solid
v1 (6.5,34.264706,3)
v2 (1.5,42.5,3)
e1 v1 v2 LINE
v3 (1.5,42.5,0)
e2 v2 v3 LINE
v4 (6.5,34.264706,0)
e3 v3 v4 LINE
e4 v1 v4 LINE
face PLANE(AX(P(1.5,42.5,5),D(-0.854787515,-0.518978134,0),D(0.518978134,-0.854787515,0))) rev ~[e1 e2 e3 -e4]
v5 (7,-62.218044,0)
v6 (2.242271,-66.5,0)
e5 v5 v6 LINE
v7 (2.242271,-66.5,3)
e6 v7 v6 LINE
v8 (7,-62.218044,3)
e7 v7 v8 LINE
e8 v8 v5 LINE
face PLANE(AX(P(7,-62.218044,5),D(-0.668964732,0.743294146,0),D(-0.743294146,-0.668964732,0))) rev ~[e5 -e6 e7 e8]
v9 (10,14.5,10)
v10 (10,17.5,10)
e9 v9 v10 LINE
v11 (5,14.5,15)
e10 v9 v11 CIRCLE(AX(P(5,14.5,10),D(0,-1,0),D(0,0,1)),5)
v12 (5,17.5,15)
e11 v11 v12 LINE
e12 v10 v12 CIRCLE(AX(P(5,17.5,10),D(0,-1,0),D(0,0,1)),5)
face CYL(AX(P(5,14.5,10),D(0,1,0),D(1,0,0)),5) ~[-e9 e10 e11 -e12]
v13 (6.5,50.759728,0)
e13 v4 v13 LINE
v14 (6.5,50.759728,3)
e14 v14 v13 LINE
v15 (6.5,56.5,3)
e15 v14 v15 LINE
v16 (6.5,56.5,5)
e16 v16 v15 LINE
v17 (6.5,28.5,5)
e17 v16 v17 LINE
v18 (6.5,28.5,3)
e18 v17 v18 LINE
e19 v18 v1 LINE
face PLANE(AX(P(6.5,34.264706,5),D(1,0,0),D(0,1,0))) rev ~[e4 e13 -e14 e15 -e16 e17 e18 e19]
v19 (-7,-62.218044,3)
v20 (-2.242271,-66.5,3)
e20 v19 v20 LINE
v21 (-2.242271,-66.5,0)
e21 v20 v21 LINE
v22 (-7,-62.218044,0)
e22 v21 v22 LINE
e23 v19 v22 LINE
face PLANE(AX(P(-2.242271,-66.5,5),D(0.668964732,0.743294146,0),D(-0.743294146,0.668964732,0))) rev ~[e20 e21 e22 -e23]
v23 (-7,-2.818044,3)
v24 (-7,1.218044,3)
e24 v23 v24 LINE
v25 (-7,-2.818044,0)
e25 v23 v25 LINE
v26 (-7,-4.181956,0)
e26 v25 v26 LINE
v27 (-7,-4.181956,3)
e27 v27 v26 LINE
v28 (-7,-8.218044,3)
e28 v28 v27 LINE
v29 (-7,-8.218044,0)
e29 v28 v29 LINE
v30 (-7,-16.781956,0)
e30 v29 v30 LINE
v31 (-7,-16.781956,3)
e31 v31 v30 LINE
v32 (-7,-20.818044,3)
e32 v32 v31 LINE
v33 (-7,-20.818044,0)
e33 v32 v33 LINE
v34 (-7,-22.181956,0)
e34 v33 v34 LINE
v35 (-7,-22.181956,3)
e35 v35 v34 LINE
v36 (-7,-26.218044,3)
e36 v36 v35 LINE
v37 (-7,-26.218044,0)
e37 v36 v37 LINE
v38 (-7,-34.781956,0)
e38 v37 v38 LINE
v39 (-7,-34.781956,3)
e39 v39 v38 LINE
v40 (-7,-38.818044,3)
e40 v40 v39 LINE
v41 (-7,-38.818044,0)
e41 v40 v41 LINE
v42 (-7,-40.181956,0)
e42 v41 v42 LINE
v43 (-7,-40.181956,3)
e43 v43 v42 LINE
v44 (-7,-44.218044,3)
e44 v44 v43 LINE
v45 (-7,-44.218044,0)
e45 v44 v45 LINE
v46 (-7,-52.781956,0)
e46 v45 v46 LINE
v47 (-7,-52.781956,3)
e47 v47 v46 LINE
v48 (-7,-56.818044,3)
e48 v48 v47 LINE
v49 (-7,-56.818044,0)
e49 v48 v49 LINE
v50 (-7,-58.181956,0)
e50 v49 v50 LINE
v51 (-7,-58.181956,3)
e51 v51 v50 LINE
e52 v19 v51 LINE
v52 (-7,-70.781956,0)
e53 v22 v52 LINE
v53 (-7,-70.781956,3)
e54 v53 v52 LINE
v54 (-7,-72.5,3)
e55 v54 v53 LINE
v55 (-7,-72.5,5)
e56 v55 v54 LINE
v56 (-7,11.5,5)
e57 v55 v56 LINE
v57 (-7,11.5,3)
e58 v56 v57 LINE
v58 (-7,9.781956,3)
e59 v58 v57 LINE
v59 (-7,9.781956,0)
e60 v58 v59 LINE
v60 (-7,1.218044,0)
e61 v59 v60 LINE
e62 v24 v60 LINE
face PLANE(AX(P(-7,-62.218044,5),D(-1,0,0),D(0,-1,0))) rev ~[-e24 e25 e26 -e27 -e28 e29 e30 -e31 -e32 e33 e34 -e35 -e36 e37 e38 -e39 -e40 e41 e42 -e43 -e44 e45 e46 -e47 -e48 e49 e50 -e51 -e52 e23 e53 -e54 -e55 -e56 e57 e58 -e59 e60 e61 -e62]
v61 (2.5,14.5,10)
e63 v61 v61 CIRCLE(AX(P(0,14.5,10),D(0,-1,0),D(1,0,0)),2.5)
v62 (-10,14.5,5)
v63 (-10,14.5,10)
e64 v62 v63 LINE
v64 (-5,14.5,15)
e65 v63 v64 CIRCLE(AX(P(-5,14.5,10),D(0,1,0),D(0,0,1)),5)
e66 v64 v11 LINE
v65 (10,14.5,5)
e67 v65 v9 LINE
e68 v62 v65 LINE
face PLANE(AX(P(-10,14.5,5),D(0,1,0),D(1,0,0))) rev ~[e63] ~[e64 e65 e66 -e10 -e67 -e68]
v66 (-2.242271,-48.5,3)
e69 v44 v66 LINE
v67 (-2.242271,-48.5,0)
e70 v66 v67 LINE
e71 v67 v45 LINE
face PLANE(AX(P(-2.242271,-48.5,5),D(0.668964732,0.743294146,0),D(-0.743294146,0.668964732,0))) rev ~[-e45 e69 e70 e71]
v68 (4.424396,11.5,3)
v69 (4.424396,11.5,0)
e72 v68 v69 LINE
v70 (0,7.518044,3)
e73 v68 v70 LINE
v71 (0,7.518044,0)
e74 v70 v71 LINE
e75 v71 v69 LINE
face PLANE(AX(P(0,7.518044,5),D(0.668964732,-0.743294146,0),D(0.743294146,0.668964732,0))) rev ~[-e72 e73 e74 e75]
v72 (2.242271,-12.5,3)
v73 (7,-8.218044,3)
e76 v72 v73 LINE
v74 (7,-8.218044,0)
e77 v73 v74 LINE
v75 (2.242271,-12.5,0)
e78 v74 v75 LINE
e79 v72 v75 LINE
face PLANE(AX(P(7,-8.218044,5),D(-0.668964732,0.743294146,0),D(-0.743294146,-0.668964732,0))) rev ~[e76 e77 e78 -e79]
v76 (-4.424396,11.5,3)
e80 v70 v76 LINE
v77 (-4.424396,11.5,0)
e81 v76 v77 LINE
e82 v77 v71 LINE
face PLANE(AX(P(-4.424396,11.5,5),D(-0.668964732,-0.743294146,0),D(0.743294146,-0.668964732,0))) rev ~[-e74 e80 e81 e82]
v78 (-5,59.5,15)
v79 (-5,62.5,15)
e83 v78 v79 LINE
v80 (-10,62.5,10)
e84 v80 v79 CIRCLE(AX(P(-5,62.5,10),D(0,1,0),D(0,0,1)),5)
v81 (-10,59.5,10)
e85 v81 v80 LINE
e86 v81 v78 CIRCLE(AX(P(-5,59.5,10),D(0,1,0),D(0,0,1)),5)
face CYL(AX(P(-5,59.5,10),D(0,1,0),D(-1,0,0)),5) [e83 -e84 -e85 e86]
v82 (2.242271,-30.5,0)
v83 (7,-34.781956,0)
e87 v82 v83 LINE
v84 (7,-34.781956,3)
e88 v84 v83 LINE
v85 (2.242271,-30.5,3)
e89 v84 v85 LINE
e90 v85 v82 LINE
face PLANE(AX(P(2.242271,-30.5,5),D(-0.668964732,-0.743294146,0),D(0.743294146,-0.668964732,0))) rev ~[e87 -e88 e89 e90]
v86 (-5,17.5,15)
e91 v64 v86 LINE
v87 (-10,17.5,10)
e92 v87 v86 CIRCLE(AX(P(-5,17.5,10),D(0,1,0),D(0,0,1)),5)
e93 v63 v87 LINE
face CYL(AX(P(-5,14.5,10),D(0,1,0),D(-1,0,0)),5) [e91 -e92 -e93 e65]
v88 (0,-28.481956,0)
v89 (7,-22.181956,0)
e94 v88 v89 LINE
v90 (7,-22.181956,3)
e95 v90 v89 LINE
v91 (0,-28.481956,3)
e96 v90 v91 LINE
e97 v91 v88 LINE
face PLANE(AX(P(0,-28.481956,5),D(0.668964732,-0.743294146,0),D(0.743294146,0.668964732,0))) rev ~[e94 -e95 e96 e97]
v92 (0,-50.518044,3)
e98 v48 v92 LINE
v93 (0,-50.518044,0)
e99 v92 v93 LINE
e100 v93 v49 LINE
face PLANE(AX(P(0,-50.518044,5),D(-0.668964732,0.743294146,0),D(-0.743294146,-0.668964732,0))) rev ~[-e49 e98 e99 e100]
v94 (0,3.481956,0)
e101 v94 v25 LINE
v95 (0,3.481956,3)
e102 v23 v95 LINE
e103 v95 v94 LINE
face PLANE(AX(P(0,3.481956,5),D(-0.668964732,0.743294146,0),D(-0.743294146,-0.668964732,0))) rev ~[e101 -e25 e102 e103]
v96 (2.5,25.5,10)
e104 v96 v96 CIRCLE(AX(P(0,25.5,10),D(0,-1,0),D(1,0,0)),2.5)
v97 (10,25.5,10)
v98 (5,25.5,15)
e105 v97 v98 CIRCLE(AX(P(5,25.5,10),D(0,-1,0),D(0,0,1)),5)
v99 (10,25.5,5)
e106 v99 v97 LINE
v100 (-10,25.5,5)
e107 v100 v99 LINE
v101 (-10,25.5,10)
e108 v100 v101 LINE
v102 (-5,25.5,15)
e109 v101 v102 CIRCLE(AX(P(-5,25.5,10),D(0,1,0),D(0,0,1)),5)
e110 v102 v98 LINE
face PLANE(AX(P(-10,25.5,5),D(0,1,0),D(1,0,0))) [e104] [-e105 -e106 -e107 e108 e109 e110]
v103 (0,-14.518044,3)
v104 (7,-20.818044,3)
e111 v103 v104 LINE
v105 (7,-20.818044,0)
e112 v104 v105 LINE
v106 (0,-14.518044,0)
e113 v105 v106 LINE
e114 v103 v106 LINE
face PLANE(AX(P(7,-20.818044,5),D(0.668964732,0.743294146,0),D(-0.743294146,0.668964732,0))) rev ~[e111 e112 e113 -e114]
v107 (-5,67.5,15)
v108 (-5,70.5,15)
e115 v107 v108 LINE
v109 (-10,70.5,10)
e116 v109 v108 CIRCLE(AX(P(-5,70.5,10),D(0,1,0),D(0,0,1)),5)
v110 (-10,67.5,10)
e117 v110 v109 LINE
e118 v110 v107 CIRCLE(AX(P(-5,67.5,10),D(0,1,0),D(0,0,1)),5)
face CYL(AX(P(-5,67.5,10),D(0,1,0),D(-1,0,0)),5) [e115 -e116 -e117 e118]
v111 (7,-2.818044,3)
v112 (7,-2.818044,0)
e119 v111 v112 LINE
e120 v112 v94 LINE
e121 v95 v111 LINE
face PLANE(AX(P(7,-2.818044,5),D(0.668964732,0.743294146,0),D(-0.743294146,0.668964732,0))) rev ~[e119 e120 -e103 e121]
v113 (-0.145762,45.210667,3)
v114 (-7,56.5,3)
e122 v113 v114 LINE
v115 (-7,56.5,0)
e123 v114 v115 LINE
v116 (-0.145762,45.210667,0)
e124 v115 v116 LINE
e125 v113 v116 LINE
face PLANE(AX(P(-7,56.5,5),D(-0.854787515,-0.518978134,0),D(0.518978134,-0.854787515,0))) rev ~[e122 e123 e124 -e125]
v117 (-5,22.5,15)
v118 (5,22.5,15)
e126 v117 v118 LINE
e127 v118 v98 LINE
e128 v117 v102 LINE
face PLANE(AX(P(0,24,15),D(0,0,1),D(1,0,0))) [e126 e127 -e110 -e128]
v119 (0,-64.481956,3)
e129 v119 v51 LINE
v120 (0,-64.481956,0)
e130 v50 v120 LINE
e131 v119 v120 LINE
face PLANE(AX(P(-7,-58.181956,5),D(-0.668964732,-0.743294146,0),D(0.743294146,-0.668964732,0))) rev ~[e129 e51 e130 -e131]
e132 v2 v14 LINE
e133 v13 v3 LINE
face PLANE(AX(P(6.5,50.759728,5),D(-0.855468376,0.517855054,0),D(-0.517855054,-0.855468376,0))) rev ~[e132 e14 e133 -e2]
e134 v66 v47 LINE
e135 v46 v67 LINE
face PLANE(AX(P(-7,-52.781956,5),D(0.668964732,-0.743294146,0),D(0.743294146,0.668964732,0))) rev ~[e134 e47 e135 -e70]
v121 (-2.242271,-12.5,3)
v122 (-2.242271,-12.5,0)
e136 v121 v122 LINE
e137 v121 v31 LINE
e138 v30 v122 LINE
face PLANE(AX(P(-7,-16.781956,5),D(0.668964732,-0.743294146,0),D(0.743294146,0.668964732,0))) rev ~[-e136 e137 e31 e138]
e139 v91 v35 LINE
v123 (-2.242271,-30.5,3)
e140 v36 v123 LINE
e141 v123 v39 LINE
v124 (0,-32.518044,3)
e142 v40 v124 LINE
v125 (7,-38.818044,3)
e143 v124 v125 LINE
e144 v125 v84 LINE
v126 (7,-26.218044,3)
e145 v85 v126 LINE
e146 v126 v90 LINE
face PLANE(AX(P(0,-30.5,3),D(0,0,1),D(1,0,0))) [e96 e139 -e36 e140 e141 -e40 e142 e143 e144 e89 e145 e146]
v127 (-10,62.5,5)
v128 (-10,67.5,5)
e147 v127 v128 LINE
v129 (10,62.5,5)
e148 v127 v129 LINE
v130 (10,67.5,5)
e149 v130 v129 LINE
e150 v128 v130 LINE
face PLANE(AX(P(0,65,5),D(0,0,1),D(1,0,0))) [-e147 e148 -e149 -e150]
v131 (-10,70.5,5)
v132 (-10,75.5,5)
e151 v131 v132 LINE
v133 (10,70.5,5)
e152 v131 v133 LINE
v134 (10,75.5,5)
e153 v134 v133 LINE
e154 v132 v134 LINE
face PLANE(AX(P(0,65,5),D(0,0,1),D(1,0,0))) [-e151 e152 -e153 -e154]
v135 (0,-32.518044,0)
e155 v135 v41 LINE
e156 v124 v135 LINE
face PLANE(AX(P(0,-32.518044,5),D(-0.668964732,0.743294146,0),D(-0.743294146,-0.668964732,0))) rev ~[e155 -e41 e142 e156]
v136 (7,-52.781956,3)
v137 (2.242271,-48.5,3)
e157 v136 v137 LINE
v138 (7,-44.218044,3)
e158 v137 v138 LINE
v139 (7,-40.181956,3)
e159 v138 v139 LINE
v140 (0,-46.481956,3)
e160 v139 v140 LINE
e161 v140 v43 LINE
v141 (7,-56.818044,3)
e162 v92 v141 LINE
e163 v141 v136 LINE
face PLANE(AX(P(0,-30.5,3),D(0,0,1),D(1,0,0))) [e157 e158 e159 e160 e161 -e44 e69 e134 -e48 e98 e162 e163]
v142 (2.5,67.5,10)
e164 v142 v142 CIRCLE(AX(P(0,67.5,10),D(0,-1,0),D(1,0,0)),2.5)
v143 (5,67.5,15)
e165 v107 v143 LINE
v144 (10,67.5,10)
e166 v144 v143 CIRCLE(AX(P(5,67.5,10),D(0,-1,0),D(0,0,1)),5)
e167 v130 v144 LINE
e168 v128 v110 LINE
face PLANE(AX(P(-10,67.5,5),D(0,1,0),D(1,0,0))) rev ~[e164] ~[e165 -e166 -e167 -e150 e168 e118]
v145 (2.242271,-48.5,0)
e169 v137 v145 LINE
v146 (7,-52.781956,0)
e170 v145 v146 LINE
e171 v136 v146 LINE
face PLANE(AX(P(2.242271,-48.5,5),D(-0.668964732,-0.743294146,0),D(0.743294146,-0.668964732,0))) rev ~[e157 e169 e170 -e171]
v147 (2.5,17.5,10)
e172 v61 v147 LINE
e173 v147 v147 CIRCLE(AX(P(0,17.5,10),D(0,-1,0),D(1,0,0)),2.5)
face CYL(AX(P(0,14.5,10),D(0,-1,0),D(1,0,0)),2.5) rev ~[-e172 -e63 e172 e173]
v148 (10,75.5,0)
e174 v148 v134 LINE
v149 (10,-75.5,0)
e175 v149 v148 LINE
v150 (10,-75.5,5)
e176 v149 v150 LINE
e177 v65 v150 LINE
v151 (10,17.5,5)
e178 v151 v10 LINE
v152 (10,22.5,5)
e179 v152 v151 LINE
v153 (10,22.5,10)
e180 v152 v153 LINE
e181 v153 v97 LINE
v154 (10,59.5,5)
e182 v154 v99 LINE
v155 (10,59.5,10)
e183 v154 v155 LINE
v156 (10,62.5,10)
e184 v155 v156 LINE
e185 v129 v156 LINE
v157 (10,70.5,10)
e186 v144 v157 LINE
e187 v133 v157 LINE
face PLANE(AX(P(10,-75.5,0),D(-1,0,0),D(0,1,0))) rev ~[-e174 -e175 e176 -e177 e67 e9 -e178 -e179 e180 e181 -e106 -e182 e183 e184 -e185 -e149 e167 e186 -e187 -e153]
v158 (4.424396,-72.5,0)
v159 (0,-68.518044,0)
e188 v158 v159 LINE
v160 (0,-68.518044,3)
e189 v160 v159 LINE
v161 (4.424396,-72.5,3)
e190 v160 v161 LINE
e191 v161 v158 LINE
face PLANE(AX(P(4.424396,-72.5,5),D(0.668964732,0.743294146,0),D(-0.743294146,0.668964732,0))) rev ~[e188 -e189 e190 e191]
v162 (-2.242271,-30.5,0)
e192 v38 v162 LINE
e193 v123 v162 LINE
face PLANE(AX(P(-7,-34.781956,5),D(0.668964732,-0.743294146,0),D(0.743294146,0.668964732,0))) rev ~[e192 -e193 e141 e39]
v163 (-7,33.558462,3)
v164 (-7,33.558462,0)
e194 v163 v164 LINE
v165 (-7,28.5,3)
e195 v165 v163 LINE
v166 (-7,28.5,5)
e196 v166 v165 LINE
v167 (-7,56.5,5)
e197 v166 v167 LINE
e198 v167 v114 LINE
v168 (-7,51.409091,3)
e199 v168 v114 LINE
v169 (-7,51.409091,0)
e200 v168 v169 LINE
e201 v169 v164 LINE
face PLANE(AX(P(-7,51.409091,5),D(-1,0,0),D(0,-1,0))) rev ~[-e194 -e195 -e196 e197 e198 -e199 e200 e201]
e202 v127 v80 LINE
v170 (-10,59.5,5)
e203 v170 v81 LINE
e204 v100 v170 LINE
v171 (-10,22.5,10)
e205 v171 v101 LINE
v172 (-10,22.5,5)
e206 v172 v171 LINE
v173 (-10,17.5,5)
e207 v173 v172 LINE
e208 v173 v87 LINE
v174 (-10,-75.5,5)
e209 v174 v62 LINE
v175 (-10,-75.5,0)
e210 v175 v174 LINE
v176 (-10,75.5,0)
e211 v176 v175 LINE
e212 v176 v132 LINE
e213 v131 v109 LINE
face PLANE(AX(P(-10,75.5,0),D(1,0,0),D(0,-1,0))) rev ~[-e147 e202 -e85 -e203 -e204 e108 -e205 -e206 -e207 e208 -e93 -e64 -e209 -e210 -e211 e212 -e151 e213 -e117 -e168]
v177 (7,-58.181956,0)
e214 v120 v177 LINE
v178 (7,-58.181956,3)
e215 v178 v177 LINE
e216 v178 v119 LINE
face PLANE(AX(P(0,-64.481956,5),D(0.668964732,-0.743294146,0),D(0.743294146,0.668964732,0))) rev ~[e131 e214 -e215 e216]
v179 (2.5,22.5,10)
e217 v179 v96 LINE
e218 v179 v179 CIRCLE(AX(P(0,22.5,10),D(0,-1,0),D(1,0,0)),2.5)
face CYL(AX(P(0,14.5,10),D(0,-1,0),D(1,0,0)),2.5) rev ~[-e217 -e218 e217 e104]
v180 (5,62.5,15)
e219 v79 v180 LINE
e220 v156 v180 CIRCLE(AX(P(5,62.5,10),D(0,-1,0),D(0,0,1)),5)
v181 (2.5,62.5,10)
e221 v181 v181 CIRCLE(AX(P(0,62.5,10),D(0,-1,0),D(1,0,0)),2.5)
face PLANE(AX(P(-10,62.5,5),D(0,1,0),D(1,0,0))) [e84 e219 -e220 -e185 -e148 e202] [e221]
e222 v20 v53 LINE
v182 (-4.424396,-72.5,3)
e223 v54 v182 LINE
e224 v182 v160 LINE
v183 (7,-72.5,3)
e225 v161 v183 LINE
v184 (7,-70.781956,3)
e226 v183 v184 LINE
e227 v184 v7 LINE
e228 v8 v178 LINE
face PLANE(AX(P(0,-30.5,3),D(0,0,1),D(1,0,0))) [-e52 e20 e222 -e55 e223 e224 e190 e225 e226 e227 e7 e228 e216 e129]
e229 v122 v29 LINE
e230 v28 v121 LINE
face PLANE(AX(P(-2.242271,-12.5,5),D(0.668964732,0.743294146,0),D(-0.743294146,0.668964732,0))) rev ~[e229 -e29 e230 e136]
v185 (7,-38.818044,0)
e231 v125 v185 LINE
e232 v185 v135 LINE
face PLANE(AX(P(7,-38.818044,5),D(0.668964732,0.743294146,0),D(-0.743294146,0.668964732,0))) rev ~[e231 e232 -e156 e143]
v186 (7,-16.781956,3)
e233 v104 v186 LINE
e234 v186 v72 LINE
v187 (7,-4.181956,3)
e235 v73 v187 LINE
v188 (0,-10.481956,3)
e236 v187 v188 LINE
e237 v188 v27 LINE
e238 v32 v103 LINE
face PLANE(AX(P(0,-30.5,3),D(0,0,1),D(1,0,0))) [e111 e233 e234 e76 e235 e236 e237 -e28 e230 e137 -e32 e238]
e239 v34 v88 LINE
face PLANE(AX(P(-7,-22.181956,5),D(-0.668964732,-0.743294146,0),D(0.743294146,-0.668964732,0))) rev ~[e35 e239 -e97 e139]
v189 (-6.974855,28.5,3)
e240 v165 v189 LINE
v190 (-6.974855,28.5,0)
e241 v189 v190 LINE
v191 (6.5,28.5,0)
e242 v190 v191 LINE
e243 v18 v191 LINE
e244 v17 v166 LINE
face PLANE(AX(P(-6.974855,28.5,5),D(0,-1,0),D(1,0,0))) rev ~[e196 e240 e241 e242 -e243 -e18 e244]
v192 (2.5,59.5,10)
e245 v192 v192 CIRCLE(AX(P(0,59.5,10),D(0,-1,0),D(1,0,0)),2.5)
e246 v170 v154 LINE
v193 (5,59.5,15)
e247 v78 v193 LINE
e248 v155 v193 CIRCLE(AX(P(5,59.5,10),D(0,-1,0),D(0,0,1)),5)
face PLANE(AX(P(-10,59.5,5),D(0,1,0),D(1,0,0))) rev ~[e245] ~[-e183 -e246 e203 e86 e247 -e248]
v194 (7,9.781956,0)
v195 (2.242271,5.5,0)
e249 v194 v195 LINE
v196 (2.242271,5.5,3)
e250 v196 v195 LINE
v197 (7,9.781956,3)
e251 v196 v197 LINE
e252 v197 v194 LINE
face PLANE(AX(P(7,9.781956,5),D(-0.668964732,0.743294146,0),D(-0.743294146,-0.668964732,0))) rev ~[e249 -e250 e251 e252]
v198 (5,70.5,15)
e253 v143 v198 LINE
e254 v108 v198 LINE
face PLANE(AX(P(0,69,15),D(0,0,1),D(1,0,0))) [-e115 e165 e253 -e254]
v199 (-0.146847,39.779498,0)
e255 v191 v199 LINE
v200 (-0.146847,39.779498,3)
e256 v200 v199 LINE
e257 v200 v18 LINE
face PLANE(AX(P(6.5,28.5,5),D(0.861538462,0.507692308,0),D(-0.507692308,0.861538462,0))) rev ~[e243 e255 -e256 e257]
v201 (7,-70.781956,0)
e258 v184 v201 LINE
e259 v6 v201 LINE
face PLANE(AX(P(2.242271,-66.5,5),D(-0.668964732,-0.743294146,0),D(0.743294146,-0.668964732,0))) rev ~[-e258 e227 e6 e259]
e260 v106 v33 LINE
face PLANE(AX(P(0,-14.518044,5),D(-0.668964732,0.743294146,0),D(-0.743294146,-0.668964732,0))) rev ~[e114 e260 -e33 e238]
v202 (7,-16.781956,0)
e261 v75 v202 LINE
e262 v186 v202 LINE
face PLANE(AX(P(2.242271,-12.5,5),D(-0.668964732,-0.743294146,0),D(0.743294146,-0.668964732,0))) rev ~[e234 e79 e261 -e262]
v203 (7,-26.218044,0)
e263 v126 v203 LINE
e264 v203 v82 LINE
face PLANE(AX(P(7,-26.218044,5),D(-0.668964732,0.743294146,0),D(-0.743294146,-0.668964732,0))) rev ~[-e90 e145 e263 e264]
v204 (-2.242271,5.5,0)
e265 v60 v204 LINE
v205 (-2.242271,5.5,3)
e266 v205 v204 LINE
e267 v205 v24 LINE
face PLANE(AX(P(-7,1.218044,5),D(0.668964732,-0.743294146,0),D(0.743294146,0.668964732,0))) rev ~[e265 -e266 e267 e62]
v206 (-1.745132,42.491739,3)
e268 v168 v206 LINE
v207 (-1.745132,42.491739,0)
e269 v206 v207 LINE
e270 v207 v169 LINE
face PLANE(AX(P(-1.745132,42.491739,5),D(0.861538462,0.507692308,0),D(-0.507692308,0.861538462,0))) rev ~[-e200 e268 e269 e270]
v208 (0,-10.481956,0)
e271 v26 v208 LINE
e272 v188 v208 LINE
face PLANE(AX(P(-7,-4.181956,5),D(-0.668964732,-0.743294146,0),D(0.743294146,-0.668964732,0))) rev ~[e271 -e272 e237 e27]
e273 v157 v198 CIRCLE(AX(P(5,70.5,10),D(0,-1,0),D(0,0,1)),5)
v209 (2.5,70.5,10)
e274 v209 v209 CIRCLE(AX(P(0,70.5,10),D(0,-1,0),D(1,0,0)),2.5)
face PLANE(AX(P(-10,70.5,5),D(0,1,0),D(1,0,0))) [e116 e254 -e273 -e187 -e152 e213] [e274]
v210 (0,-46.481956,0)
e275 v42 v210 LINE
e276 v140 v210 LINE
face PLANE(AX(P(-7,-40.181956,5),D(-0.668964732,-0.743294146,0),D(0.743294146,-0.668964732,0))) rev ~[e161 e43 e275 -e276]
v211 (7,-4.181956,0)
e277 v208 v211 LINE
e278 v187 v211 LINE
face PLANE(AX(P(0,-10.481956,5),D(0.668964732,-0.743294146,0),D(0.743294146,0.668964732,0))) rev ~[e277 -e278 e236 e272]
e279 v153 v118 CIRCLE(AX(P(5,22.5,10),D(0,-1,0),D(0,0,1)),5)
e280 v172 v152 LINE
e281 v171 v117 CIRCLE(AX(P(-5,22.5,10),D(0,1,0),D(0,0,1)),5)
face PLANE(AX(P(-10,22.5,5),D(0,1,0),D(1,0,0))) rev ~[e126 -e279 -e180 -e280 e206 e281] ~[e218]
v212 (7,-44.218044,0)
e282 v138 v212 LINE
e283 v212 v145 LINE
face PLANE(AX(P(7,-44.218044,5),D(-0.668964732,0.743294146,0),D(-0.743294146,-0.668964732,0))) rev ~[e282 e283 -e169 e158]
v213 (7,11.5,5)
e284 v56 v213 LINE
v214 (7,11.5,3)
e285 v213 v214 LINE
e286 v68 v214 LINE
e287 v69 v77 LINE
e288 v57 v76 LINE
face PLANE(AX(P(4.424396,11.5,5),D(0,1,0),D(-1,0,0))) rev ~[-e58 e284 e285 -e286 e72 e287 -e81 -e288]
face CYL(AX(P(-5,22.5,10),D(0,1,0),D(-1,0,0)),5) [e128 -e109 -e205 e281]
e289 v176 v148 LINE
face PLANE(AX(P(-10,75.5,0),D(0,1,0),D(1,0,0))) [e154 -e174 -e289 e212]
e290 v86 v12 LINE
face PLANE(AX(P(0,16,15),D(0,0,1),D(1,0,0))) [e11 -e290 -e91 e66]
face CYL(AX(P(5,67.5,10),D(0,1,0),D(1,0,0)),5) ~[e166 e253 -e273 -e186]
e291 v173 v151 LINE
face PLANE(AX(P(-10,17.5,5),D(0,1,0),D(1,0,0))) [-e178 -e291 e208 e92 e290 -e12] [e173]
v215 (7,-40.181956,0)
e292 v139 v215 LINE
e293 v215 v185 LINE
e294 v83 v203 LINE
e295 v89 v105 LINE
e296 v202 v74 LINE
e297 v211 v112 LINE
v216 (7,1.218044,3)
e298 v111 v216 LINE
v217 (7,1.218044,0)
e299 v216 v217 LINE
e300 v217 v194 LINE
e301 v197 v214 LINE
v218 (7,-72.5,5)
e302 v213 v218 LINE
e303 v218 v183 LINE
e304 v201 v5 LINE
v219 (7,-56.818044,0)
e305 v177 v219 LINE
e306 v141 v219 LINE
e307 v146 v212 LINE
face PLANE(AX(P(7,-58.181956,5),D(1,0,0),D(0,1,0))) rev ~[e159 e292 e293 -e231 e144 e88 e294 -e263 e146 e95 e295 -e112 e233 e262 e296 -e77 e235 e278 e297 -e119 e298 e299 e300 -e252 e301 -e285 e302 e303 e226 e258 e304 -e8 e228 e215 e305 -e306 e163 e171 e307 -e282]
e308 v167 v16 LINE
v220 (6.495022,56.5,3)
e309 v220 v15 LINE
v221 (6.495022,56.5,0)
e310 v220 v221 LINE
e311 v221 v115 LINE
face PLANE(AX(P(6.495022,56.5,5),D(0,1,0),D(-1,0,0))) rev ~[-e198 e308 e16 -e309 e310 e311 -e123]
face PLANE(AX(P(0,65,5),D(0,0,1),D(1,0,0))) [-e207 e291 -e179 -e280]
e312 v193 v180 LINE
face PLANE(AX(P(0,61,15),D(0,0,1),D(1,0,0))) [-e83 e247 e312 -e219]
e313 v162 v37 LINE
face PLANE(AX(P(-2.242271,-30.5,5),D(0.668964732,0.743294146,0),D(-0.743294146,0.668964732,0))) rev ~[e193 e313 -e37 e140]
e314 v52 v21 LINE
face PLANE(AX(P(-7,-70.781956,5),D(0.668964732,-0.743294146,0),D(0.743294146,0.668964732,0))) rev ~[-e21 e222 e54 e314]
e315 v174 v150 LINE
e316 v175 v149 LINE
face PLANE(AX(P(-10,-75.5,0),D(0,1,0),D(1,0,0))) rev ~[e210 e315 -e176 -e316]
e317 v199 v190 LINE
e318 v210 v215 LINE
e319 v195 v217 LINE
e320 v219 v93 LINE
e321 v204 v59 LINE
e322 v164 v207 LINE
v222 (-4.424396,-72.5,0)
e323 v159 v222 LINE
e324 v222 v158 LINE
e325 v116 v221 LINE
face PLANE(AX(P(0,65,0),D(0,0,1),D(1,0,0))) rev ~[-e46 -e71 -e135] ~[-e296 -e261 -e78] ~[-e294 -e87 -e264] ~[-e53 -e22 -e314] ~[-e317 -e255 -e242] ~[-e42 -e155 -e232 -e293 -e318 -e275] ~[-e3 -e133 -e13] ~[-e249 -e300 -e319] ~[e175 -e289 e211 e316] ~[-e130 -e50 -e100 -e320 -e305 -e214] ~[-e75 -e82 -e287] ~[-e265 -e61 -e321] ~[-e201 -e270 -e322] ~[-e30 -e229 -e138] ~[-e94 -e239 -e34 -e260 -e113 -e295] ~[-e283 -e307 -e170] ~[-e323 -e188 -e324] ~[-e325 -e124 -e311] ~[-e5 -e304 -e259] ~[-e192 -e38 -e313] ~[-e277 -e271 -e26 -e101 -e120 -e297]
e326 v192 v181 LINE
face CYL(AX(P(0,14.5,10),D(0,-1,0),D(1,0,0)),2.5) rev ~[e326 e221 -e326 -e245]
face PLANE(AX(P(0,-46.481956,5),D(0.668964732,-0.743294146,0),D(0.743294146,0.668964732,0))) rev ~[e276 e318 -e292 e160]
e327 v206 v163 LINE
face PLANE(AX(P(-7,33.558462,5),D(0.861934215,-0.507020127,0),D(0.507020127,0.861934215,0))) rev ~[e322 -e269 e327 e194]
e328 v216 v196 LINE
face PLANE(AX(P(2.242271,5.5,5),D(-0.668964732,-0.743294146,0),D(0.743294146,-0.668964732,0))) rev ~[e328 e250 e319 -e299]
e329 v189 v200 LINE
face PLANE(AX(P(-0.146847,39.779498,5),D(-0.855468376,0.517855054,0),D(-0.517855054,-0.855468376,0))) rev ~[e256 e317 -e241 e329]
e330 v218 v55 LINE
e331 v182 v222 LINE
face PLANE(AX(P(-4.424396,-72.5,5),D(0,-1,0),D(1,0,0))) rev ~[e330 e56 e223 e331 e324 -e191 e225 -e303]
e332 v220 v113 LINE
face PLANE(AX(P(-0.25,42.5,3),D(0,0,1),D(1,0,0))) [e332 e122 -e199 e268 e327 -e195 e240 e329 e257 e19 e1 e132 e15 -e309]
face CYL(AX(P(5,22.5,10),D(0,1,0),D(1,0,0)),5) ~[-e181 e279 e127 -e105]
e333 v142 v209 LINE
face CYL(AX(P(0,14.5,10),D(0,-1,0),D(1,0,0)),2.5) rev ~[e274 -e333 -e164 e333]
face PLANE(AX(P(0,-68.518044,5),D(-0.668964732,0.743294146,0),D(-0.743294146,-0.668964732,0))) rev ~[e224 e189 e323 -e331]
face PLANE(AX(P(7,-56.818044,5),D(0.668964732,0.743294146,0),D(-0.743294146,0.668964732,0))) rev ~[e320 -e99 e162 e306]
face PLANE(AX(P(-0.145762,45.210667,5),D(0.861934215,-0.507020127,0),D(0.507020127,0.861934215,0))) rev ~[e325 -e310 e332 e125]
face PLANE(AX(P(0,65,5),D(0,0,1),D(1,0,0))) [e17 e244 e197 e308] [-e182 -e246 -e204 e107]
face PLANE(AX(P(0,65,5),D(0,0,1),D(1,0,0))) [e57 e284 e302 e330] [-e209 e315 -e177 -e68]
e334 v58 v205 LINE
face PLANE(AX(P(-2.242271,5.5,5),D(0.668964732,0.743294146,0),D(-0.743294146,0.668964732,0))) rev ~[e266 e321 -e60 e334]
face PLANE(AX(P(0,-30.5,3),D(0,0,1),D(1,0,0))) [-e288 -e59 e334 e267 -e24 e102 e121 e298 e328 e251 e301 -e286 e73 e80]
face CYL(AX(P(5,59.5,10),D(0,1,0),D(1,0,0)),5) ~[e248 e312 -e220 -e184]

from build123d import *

# Parameters (mm, degrees)
F0_W      = 20
F0_H      = 5
F0_H_2    = 3
F0_H_3    = 90
F0_H_4    = 34
F1_DEPTH  = 5
F2_W      = 20
F2_H      = 3
F2_H_2    = 5
F2_H_3    = 34
F3_DEPTH  = 5
F4_W      = 20
F4_H      = 3
F5_DEPTH  = 10
F6_R      = 2.5
F7_DEPTH  = 56
F8_R      = 5
F10_DEPTH = 5
F12_DEPTH = 5
F13_W     = 14
F13_H     = 84
F13_W_2   = 13.5
F13_H_2   = 28
F14_DEPTH = 2


with BuildPart() as f1:
    # F0 (on Top) → F1 (new body)
    with BuildSketch(Plane.XY):
        with Locations((0, 65)):
            Rectangle(F0_W, F0_H)
        with Locations((0, 61)):
            Rectangle(F0_W, F0_H_2)
        with Locations((0, 73)):
            Rectangle(F0_W, F0_H)
        with Locations((0, 20)):
            Rectangle(F0_W, F0_H)
        with Locations((0, 24)):
            Rectangle(F0_W, F0_H_2)
        with Locations((0, -30.5)):
            Rectangle(F0_W, F0_H_3)
        with Locations((0, 16)):
            Rectangle(F0_W, F0_H_2)
        with Locations((0, 69)):
            Rectangle(F0_W, F0_H_2)
        with Locations((0, 42.5)):
            Rectangle(F0_W, F0_H_4)
    extrude(amount=F1_DEPTH)

    # F2 (on Top) → F3 (join, through all)
    with BuildSketch(Plane.XY):
        with Locations((0, 69)):
            Rectangle(F2_W, F2_H)
        with Locations((0, 73)):
            Rectangle(F2_W, F2_H_2)
        with Locations((0, 65)):
            Rectangle(F2_W, F2_H_2)
        with Locations((0, 61)):
            Rectangle(F2_W, F2_H)
        with Locations((0, 24)):
            Rectangle(F2_W, F2_H)
        with Locations((0, 42.5)):
            Rectangle(F2_W, F2_H_3)
        with Locations((0, 20)):
            Rectangle(F2_W, F2_H_2)
        with Locations((0, 16)):
            Rectangle(F2_W, F2_H)
    extrude(amount=F3_DEPTH)

    # F4 (on face) → F5 (join)
    with BuildSketch(Plane.XY.offset(5)):
        with Locations((0, 69)):
            Rectangle(F4_W, F4_H)
        with Locations((0, 61)):
            Rectangle(F4_W, F4_H)
        with Locations((0, 24)):
            Rectangle(F4_W, F4_H)
        with Locations((0, 16)):
            Rectangle(F4_W, F4_H)
    extrude(amount=F5_DEPTH)

    # F6 (on face) → F7 (cut, through all)
    with BuildSketch(Plane.XZ.offset(-14.5)):
        with Locations((0, 10)):
            Circle(F6_R)
    extrude(amount=-F7_DEPTH, mode=Mode.SUBTRACT)

    # F8
    f8_edges = [f1.edges().sort_by_distance(p)[0] for p in [
        (10, 69, 15),
        (10, 61, 15),
        (-10, 61, 15),
        (-10, 69, 15),
        (10, 24, 15),
        (-10, 24, 15),
        (-10, 16, 15),
        (10, 16, 15),
    ]]
    fillet(f8_edges, radius=F8_R)

    # F9 (on face) → F10 (cut, through all)
    with BuildSketch(Plane.XY.offset(5)):
        Polygon((4.4243959922, 11.5), (-4.4243959922, 11.5), (0, 7.5180436071), align=None)
        Polygon((-2.2422706745, 5.5), (-7, 9.7819563929), (-7, 1.2180436071), align=None)
        Polygon((0, -14.5180436071), (-7, -20.8180436071), (-7, -22.1819563929), (0, -28.4819563929), (7, -22.1819563929), (7, -20.8180436071), align=None)
        Polygon((0, -32.5180436071), (-7, -38.8180436071), (-7, -40.1819563929), (0, -46.4819563929), (7, -40.1819563929), (7, -38.8180436071), align=None)
        Polygon((7, -52.7819563929), (7, -44.2180436071), (2.2422706745, -48.5), align=None)
        Polygon((-2.2422706745, -66.5), (-7, -62.2180436071), (-7, -70.7819563929), align=None)
        Polygon((7, -2.8180436071), (0, 3.4819563929), (-7, -2.8180436071), (-7, -4.1819563929), (0, -10.4819563929), (7, -4.1819563929), align=None)
        Polygon((7, 1.2180436071), (7, 9.7819563929), (2.2422706745, 5.5), align=None)
        Polygon((7, -16.7819563929), (7, -8.2180436071), (2.2422706745, -12.5), align=None)
        Polygon((-2.2422706745, -12.5), (-7, -8.2180436071), (-7, -16.7819563929), align=None)
        Polygon((7, -34.7819563929), (7, -26.2180436071), (2.2422706745, -30.5), align=None)
        Polygon((-2.2422706745, -30.5), (-7, -26.2180436071), (-7, -34.7819563929), align=None)
        Polygon((-2.2422706745, -48.5), (-7, -44.2180436071), (-7, -52.7819563929), align=None)
        Polygon((0, -50.5180436071), (-7, -56.8180436071), (-7, -58.1819563929), (0, -64.4819563929), (7, -58.1819563929), (7, -56.8180436071), align=None)
        Polygon((7, -70.7819563929), (7, -62.2180436071), (2.2422706745, -66.5), align=None)
        Polygon((4.4243959922, -72.5), (0, -68.5180436071), (-4.4243959922, -72.5), align=None)
    extrude(amount=-F10_DEPTH, mode=Mode.SUBTRACT)

    # F11 (on face) → F12 (cut, through all)
    with BuildSketch(Plane.XY.offset(5)):
        Polygon((-0.1457620642, 45.2106669293), (6.495022095, 56.5), (-7, 56.5), align=None)
        Polygon((6.5, 34.2647058824), (6.5, 50.7597279774), (1.5, 42.5), align=None)
        Polygon((6.5, 28.5), (-0.1468471232, 39.7794981484), (-6.9748553696, 28.5), align=None)
        Polygon((-1.7451316723, 42.4917385955), (-7, 51.4090909091), (-7, 33.5584624385), align=None)
    extrude(amount=-F12_DEPTH, mode=Mode.SUBTRACT)

    # F13 (on face) → F14 (cut, through all)
    with BuildSketch(Plane.XY.offset(5)):
        with Locations((0, -30.5)):
            Rectangle(F13_W, F13_H)
        with Locations((-0.25, 42.5)):
            Rectangle(F13_W_2, F13_H_2)
    extrude(amount=-F14_DEPTH, mode=Mode.SUBTRACT)


solid = f1.part
